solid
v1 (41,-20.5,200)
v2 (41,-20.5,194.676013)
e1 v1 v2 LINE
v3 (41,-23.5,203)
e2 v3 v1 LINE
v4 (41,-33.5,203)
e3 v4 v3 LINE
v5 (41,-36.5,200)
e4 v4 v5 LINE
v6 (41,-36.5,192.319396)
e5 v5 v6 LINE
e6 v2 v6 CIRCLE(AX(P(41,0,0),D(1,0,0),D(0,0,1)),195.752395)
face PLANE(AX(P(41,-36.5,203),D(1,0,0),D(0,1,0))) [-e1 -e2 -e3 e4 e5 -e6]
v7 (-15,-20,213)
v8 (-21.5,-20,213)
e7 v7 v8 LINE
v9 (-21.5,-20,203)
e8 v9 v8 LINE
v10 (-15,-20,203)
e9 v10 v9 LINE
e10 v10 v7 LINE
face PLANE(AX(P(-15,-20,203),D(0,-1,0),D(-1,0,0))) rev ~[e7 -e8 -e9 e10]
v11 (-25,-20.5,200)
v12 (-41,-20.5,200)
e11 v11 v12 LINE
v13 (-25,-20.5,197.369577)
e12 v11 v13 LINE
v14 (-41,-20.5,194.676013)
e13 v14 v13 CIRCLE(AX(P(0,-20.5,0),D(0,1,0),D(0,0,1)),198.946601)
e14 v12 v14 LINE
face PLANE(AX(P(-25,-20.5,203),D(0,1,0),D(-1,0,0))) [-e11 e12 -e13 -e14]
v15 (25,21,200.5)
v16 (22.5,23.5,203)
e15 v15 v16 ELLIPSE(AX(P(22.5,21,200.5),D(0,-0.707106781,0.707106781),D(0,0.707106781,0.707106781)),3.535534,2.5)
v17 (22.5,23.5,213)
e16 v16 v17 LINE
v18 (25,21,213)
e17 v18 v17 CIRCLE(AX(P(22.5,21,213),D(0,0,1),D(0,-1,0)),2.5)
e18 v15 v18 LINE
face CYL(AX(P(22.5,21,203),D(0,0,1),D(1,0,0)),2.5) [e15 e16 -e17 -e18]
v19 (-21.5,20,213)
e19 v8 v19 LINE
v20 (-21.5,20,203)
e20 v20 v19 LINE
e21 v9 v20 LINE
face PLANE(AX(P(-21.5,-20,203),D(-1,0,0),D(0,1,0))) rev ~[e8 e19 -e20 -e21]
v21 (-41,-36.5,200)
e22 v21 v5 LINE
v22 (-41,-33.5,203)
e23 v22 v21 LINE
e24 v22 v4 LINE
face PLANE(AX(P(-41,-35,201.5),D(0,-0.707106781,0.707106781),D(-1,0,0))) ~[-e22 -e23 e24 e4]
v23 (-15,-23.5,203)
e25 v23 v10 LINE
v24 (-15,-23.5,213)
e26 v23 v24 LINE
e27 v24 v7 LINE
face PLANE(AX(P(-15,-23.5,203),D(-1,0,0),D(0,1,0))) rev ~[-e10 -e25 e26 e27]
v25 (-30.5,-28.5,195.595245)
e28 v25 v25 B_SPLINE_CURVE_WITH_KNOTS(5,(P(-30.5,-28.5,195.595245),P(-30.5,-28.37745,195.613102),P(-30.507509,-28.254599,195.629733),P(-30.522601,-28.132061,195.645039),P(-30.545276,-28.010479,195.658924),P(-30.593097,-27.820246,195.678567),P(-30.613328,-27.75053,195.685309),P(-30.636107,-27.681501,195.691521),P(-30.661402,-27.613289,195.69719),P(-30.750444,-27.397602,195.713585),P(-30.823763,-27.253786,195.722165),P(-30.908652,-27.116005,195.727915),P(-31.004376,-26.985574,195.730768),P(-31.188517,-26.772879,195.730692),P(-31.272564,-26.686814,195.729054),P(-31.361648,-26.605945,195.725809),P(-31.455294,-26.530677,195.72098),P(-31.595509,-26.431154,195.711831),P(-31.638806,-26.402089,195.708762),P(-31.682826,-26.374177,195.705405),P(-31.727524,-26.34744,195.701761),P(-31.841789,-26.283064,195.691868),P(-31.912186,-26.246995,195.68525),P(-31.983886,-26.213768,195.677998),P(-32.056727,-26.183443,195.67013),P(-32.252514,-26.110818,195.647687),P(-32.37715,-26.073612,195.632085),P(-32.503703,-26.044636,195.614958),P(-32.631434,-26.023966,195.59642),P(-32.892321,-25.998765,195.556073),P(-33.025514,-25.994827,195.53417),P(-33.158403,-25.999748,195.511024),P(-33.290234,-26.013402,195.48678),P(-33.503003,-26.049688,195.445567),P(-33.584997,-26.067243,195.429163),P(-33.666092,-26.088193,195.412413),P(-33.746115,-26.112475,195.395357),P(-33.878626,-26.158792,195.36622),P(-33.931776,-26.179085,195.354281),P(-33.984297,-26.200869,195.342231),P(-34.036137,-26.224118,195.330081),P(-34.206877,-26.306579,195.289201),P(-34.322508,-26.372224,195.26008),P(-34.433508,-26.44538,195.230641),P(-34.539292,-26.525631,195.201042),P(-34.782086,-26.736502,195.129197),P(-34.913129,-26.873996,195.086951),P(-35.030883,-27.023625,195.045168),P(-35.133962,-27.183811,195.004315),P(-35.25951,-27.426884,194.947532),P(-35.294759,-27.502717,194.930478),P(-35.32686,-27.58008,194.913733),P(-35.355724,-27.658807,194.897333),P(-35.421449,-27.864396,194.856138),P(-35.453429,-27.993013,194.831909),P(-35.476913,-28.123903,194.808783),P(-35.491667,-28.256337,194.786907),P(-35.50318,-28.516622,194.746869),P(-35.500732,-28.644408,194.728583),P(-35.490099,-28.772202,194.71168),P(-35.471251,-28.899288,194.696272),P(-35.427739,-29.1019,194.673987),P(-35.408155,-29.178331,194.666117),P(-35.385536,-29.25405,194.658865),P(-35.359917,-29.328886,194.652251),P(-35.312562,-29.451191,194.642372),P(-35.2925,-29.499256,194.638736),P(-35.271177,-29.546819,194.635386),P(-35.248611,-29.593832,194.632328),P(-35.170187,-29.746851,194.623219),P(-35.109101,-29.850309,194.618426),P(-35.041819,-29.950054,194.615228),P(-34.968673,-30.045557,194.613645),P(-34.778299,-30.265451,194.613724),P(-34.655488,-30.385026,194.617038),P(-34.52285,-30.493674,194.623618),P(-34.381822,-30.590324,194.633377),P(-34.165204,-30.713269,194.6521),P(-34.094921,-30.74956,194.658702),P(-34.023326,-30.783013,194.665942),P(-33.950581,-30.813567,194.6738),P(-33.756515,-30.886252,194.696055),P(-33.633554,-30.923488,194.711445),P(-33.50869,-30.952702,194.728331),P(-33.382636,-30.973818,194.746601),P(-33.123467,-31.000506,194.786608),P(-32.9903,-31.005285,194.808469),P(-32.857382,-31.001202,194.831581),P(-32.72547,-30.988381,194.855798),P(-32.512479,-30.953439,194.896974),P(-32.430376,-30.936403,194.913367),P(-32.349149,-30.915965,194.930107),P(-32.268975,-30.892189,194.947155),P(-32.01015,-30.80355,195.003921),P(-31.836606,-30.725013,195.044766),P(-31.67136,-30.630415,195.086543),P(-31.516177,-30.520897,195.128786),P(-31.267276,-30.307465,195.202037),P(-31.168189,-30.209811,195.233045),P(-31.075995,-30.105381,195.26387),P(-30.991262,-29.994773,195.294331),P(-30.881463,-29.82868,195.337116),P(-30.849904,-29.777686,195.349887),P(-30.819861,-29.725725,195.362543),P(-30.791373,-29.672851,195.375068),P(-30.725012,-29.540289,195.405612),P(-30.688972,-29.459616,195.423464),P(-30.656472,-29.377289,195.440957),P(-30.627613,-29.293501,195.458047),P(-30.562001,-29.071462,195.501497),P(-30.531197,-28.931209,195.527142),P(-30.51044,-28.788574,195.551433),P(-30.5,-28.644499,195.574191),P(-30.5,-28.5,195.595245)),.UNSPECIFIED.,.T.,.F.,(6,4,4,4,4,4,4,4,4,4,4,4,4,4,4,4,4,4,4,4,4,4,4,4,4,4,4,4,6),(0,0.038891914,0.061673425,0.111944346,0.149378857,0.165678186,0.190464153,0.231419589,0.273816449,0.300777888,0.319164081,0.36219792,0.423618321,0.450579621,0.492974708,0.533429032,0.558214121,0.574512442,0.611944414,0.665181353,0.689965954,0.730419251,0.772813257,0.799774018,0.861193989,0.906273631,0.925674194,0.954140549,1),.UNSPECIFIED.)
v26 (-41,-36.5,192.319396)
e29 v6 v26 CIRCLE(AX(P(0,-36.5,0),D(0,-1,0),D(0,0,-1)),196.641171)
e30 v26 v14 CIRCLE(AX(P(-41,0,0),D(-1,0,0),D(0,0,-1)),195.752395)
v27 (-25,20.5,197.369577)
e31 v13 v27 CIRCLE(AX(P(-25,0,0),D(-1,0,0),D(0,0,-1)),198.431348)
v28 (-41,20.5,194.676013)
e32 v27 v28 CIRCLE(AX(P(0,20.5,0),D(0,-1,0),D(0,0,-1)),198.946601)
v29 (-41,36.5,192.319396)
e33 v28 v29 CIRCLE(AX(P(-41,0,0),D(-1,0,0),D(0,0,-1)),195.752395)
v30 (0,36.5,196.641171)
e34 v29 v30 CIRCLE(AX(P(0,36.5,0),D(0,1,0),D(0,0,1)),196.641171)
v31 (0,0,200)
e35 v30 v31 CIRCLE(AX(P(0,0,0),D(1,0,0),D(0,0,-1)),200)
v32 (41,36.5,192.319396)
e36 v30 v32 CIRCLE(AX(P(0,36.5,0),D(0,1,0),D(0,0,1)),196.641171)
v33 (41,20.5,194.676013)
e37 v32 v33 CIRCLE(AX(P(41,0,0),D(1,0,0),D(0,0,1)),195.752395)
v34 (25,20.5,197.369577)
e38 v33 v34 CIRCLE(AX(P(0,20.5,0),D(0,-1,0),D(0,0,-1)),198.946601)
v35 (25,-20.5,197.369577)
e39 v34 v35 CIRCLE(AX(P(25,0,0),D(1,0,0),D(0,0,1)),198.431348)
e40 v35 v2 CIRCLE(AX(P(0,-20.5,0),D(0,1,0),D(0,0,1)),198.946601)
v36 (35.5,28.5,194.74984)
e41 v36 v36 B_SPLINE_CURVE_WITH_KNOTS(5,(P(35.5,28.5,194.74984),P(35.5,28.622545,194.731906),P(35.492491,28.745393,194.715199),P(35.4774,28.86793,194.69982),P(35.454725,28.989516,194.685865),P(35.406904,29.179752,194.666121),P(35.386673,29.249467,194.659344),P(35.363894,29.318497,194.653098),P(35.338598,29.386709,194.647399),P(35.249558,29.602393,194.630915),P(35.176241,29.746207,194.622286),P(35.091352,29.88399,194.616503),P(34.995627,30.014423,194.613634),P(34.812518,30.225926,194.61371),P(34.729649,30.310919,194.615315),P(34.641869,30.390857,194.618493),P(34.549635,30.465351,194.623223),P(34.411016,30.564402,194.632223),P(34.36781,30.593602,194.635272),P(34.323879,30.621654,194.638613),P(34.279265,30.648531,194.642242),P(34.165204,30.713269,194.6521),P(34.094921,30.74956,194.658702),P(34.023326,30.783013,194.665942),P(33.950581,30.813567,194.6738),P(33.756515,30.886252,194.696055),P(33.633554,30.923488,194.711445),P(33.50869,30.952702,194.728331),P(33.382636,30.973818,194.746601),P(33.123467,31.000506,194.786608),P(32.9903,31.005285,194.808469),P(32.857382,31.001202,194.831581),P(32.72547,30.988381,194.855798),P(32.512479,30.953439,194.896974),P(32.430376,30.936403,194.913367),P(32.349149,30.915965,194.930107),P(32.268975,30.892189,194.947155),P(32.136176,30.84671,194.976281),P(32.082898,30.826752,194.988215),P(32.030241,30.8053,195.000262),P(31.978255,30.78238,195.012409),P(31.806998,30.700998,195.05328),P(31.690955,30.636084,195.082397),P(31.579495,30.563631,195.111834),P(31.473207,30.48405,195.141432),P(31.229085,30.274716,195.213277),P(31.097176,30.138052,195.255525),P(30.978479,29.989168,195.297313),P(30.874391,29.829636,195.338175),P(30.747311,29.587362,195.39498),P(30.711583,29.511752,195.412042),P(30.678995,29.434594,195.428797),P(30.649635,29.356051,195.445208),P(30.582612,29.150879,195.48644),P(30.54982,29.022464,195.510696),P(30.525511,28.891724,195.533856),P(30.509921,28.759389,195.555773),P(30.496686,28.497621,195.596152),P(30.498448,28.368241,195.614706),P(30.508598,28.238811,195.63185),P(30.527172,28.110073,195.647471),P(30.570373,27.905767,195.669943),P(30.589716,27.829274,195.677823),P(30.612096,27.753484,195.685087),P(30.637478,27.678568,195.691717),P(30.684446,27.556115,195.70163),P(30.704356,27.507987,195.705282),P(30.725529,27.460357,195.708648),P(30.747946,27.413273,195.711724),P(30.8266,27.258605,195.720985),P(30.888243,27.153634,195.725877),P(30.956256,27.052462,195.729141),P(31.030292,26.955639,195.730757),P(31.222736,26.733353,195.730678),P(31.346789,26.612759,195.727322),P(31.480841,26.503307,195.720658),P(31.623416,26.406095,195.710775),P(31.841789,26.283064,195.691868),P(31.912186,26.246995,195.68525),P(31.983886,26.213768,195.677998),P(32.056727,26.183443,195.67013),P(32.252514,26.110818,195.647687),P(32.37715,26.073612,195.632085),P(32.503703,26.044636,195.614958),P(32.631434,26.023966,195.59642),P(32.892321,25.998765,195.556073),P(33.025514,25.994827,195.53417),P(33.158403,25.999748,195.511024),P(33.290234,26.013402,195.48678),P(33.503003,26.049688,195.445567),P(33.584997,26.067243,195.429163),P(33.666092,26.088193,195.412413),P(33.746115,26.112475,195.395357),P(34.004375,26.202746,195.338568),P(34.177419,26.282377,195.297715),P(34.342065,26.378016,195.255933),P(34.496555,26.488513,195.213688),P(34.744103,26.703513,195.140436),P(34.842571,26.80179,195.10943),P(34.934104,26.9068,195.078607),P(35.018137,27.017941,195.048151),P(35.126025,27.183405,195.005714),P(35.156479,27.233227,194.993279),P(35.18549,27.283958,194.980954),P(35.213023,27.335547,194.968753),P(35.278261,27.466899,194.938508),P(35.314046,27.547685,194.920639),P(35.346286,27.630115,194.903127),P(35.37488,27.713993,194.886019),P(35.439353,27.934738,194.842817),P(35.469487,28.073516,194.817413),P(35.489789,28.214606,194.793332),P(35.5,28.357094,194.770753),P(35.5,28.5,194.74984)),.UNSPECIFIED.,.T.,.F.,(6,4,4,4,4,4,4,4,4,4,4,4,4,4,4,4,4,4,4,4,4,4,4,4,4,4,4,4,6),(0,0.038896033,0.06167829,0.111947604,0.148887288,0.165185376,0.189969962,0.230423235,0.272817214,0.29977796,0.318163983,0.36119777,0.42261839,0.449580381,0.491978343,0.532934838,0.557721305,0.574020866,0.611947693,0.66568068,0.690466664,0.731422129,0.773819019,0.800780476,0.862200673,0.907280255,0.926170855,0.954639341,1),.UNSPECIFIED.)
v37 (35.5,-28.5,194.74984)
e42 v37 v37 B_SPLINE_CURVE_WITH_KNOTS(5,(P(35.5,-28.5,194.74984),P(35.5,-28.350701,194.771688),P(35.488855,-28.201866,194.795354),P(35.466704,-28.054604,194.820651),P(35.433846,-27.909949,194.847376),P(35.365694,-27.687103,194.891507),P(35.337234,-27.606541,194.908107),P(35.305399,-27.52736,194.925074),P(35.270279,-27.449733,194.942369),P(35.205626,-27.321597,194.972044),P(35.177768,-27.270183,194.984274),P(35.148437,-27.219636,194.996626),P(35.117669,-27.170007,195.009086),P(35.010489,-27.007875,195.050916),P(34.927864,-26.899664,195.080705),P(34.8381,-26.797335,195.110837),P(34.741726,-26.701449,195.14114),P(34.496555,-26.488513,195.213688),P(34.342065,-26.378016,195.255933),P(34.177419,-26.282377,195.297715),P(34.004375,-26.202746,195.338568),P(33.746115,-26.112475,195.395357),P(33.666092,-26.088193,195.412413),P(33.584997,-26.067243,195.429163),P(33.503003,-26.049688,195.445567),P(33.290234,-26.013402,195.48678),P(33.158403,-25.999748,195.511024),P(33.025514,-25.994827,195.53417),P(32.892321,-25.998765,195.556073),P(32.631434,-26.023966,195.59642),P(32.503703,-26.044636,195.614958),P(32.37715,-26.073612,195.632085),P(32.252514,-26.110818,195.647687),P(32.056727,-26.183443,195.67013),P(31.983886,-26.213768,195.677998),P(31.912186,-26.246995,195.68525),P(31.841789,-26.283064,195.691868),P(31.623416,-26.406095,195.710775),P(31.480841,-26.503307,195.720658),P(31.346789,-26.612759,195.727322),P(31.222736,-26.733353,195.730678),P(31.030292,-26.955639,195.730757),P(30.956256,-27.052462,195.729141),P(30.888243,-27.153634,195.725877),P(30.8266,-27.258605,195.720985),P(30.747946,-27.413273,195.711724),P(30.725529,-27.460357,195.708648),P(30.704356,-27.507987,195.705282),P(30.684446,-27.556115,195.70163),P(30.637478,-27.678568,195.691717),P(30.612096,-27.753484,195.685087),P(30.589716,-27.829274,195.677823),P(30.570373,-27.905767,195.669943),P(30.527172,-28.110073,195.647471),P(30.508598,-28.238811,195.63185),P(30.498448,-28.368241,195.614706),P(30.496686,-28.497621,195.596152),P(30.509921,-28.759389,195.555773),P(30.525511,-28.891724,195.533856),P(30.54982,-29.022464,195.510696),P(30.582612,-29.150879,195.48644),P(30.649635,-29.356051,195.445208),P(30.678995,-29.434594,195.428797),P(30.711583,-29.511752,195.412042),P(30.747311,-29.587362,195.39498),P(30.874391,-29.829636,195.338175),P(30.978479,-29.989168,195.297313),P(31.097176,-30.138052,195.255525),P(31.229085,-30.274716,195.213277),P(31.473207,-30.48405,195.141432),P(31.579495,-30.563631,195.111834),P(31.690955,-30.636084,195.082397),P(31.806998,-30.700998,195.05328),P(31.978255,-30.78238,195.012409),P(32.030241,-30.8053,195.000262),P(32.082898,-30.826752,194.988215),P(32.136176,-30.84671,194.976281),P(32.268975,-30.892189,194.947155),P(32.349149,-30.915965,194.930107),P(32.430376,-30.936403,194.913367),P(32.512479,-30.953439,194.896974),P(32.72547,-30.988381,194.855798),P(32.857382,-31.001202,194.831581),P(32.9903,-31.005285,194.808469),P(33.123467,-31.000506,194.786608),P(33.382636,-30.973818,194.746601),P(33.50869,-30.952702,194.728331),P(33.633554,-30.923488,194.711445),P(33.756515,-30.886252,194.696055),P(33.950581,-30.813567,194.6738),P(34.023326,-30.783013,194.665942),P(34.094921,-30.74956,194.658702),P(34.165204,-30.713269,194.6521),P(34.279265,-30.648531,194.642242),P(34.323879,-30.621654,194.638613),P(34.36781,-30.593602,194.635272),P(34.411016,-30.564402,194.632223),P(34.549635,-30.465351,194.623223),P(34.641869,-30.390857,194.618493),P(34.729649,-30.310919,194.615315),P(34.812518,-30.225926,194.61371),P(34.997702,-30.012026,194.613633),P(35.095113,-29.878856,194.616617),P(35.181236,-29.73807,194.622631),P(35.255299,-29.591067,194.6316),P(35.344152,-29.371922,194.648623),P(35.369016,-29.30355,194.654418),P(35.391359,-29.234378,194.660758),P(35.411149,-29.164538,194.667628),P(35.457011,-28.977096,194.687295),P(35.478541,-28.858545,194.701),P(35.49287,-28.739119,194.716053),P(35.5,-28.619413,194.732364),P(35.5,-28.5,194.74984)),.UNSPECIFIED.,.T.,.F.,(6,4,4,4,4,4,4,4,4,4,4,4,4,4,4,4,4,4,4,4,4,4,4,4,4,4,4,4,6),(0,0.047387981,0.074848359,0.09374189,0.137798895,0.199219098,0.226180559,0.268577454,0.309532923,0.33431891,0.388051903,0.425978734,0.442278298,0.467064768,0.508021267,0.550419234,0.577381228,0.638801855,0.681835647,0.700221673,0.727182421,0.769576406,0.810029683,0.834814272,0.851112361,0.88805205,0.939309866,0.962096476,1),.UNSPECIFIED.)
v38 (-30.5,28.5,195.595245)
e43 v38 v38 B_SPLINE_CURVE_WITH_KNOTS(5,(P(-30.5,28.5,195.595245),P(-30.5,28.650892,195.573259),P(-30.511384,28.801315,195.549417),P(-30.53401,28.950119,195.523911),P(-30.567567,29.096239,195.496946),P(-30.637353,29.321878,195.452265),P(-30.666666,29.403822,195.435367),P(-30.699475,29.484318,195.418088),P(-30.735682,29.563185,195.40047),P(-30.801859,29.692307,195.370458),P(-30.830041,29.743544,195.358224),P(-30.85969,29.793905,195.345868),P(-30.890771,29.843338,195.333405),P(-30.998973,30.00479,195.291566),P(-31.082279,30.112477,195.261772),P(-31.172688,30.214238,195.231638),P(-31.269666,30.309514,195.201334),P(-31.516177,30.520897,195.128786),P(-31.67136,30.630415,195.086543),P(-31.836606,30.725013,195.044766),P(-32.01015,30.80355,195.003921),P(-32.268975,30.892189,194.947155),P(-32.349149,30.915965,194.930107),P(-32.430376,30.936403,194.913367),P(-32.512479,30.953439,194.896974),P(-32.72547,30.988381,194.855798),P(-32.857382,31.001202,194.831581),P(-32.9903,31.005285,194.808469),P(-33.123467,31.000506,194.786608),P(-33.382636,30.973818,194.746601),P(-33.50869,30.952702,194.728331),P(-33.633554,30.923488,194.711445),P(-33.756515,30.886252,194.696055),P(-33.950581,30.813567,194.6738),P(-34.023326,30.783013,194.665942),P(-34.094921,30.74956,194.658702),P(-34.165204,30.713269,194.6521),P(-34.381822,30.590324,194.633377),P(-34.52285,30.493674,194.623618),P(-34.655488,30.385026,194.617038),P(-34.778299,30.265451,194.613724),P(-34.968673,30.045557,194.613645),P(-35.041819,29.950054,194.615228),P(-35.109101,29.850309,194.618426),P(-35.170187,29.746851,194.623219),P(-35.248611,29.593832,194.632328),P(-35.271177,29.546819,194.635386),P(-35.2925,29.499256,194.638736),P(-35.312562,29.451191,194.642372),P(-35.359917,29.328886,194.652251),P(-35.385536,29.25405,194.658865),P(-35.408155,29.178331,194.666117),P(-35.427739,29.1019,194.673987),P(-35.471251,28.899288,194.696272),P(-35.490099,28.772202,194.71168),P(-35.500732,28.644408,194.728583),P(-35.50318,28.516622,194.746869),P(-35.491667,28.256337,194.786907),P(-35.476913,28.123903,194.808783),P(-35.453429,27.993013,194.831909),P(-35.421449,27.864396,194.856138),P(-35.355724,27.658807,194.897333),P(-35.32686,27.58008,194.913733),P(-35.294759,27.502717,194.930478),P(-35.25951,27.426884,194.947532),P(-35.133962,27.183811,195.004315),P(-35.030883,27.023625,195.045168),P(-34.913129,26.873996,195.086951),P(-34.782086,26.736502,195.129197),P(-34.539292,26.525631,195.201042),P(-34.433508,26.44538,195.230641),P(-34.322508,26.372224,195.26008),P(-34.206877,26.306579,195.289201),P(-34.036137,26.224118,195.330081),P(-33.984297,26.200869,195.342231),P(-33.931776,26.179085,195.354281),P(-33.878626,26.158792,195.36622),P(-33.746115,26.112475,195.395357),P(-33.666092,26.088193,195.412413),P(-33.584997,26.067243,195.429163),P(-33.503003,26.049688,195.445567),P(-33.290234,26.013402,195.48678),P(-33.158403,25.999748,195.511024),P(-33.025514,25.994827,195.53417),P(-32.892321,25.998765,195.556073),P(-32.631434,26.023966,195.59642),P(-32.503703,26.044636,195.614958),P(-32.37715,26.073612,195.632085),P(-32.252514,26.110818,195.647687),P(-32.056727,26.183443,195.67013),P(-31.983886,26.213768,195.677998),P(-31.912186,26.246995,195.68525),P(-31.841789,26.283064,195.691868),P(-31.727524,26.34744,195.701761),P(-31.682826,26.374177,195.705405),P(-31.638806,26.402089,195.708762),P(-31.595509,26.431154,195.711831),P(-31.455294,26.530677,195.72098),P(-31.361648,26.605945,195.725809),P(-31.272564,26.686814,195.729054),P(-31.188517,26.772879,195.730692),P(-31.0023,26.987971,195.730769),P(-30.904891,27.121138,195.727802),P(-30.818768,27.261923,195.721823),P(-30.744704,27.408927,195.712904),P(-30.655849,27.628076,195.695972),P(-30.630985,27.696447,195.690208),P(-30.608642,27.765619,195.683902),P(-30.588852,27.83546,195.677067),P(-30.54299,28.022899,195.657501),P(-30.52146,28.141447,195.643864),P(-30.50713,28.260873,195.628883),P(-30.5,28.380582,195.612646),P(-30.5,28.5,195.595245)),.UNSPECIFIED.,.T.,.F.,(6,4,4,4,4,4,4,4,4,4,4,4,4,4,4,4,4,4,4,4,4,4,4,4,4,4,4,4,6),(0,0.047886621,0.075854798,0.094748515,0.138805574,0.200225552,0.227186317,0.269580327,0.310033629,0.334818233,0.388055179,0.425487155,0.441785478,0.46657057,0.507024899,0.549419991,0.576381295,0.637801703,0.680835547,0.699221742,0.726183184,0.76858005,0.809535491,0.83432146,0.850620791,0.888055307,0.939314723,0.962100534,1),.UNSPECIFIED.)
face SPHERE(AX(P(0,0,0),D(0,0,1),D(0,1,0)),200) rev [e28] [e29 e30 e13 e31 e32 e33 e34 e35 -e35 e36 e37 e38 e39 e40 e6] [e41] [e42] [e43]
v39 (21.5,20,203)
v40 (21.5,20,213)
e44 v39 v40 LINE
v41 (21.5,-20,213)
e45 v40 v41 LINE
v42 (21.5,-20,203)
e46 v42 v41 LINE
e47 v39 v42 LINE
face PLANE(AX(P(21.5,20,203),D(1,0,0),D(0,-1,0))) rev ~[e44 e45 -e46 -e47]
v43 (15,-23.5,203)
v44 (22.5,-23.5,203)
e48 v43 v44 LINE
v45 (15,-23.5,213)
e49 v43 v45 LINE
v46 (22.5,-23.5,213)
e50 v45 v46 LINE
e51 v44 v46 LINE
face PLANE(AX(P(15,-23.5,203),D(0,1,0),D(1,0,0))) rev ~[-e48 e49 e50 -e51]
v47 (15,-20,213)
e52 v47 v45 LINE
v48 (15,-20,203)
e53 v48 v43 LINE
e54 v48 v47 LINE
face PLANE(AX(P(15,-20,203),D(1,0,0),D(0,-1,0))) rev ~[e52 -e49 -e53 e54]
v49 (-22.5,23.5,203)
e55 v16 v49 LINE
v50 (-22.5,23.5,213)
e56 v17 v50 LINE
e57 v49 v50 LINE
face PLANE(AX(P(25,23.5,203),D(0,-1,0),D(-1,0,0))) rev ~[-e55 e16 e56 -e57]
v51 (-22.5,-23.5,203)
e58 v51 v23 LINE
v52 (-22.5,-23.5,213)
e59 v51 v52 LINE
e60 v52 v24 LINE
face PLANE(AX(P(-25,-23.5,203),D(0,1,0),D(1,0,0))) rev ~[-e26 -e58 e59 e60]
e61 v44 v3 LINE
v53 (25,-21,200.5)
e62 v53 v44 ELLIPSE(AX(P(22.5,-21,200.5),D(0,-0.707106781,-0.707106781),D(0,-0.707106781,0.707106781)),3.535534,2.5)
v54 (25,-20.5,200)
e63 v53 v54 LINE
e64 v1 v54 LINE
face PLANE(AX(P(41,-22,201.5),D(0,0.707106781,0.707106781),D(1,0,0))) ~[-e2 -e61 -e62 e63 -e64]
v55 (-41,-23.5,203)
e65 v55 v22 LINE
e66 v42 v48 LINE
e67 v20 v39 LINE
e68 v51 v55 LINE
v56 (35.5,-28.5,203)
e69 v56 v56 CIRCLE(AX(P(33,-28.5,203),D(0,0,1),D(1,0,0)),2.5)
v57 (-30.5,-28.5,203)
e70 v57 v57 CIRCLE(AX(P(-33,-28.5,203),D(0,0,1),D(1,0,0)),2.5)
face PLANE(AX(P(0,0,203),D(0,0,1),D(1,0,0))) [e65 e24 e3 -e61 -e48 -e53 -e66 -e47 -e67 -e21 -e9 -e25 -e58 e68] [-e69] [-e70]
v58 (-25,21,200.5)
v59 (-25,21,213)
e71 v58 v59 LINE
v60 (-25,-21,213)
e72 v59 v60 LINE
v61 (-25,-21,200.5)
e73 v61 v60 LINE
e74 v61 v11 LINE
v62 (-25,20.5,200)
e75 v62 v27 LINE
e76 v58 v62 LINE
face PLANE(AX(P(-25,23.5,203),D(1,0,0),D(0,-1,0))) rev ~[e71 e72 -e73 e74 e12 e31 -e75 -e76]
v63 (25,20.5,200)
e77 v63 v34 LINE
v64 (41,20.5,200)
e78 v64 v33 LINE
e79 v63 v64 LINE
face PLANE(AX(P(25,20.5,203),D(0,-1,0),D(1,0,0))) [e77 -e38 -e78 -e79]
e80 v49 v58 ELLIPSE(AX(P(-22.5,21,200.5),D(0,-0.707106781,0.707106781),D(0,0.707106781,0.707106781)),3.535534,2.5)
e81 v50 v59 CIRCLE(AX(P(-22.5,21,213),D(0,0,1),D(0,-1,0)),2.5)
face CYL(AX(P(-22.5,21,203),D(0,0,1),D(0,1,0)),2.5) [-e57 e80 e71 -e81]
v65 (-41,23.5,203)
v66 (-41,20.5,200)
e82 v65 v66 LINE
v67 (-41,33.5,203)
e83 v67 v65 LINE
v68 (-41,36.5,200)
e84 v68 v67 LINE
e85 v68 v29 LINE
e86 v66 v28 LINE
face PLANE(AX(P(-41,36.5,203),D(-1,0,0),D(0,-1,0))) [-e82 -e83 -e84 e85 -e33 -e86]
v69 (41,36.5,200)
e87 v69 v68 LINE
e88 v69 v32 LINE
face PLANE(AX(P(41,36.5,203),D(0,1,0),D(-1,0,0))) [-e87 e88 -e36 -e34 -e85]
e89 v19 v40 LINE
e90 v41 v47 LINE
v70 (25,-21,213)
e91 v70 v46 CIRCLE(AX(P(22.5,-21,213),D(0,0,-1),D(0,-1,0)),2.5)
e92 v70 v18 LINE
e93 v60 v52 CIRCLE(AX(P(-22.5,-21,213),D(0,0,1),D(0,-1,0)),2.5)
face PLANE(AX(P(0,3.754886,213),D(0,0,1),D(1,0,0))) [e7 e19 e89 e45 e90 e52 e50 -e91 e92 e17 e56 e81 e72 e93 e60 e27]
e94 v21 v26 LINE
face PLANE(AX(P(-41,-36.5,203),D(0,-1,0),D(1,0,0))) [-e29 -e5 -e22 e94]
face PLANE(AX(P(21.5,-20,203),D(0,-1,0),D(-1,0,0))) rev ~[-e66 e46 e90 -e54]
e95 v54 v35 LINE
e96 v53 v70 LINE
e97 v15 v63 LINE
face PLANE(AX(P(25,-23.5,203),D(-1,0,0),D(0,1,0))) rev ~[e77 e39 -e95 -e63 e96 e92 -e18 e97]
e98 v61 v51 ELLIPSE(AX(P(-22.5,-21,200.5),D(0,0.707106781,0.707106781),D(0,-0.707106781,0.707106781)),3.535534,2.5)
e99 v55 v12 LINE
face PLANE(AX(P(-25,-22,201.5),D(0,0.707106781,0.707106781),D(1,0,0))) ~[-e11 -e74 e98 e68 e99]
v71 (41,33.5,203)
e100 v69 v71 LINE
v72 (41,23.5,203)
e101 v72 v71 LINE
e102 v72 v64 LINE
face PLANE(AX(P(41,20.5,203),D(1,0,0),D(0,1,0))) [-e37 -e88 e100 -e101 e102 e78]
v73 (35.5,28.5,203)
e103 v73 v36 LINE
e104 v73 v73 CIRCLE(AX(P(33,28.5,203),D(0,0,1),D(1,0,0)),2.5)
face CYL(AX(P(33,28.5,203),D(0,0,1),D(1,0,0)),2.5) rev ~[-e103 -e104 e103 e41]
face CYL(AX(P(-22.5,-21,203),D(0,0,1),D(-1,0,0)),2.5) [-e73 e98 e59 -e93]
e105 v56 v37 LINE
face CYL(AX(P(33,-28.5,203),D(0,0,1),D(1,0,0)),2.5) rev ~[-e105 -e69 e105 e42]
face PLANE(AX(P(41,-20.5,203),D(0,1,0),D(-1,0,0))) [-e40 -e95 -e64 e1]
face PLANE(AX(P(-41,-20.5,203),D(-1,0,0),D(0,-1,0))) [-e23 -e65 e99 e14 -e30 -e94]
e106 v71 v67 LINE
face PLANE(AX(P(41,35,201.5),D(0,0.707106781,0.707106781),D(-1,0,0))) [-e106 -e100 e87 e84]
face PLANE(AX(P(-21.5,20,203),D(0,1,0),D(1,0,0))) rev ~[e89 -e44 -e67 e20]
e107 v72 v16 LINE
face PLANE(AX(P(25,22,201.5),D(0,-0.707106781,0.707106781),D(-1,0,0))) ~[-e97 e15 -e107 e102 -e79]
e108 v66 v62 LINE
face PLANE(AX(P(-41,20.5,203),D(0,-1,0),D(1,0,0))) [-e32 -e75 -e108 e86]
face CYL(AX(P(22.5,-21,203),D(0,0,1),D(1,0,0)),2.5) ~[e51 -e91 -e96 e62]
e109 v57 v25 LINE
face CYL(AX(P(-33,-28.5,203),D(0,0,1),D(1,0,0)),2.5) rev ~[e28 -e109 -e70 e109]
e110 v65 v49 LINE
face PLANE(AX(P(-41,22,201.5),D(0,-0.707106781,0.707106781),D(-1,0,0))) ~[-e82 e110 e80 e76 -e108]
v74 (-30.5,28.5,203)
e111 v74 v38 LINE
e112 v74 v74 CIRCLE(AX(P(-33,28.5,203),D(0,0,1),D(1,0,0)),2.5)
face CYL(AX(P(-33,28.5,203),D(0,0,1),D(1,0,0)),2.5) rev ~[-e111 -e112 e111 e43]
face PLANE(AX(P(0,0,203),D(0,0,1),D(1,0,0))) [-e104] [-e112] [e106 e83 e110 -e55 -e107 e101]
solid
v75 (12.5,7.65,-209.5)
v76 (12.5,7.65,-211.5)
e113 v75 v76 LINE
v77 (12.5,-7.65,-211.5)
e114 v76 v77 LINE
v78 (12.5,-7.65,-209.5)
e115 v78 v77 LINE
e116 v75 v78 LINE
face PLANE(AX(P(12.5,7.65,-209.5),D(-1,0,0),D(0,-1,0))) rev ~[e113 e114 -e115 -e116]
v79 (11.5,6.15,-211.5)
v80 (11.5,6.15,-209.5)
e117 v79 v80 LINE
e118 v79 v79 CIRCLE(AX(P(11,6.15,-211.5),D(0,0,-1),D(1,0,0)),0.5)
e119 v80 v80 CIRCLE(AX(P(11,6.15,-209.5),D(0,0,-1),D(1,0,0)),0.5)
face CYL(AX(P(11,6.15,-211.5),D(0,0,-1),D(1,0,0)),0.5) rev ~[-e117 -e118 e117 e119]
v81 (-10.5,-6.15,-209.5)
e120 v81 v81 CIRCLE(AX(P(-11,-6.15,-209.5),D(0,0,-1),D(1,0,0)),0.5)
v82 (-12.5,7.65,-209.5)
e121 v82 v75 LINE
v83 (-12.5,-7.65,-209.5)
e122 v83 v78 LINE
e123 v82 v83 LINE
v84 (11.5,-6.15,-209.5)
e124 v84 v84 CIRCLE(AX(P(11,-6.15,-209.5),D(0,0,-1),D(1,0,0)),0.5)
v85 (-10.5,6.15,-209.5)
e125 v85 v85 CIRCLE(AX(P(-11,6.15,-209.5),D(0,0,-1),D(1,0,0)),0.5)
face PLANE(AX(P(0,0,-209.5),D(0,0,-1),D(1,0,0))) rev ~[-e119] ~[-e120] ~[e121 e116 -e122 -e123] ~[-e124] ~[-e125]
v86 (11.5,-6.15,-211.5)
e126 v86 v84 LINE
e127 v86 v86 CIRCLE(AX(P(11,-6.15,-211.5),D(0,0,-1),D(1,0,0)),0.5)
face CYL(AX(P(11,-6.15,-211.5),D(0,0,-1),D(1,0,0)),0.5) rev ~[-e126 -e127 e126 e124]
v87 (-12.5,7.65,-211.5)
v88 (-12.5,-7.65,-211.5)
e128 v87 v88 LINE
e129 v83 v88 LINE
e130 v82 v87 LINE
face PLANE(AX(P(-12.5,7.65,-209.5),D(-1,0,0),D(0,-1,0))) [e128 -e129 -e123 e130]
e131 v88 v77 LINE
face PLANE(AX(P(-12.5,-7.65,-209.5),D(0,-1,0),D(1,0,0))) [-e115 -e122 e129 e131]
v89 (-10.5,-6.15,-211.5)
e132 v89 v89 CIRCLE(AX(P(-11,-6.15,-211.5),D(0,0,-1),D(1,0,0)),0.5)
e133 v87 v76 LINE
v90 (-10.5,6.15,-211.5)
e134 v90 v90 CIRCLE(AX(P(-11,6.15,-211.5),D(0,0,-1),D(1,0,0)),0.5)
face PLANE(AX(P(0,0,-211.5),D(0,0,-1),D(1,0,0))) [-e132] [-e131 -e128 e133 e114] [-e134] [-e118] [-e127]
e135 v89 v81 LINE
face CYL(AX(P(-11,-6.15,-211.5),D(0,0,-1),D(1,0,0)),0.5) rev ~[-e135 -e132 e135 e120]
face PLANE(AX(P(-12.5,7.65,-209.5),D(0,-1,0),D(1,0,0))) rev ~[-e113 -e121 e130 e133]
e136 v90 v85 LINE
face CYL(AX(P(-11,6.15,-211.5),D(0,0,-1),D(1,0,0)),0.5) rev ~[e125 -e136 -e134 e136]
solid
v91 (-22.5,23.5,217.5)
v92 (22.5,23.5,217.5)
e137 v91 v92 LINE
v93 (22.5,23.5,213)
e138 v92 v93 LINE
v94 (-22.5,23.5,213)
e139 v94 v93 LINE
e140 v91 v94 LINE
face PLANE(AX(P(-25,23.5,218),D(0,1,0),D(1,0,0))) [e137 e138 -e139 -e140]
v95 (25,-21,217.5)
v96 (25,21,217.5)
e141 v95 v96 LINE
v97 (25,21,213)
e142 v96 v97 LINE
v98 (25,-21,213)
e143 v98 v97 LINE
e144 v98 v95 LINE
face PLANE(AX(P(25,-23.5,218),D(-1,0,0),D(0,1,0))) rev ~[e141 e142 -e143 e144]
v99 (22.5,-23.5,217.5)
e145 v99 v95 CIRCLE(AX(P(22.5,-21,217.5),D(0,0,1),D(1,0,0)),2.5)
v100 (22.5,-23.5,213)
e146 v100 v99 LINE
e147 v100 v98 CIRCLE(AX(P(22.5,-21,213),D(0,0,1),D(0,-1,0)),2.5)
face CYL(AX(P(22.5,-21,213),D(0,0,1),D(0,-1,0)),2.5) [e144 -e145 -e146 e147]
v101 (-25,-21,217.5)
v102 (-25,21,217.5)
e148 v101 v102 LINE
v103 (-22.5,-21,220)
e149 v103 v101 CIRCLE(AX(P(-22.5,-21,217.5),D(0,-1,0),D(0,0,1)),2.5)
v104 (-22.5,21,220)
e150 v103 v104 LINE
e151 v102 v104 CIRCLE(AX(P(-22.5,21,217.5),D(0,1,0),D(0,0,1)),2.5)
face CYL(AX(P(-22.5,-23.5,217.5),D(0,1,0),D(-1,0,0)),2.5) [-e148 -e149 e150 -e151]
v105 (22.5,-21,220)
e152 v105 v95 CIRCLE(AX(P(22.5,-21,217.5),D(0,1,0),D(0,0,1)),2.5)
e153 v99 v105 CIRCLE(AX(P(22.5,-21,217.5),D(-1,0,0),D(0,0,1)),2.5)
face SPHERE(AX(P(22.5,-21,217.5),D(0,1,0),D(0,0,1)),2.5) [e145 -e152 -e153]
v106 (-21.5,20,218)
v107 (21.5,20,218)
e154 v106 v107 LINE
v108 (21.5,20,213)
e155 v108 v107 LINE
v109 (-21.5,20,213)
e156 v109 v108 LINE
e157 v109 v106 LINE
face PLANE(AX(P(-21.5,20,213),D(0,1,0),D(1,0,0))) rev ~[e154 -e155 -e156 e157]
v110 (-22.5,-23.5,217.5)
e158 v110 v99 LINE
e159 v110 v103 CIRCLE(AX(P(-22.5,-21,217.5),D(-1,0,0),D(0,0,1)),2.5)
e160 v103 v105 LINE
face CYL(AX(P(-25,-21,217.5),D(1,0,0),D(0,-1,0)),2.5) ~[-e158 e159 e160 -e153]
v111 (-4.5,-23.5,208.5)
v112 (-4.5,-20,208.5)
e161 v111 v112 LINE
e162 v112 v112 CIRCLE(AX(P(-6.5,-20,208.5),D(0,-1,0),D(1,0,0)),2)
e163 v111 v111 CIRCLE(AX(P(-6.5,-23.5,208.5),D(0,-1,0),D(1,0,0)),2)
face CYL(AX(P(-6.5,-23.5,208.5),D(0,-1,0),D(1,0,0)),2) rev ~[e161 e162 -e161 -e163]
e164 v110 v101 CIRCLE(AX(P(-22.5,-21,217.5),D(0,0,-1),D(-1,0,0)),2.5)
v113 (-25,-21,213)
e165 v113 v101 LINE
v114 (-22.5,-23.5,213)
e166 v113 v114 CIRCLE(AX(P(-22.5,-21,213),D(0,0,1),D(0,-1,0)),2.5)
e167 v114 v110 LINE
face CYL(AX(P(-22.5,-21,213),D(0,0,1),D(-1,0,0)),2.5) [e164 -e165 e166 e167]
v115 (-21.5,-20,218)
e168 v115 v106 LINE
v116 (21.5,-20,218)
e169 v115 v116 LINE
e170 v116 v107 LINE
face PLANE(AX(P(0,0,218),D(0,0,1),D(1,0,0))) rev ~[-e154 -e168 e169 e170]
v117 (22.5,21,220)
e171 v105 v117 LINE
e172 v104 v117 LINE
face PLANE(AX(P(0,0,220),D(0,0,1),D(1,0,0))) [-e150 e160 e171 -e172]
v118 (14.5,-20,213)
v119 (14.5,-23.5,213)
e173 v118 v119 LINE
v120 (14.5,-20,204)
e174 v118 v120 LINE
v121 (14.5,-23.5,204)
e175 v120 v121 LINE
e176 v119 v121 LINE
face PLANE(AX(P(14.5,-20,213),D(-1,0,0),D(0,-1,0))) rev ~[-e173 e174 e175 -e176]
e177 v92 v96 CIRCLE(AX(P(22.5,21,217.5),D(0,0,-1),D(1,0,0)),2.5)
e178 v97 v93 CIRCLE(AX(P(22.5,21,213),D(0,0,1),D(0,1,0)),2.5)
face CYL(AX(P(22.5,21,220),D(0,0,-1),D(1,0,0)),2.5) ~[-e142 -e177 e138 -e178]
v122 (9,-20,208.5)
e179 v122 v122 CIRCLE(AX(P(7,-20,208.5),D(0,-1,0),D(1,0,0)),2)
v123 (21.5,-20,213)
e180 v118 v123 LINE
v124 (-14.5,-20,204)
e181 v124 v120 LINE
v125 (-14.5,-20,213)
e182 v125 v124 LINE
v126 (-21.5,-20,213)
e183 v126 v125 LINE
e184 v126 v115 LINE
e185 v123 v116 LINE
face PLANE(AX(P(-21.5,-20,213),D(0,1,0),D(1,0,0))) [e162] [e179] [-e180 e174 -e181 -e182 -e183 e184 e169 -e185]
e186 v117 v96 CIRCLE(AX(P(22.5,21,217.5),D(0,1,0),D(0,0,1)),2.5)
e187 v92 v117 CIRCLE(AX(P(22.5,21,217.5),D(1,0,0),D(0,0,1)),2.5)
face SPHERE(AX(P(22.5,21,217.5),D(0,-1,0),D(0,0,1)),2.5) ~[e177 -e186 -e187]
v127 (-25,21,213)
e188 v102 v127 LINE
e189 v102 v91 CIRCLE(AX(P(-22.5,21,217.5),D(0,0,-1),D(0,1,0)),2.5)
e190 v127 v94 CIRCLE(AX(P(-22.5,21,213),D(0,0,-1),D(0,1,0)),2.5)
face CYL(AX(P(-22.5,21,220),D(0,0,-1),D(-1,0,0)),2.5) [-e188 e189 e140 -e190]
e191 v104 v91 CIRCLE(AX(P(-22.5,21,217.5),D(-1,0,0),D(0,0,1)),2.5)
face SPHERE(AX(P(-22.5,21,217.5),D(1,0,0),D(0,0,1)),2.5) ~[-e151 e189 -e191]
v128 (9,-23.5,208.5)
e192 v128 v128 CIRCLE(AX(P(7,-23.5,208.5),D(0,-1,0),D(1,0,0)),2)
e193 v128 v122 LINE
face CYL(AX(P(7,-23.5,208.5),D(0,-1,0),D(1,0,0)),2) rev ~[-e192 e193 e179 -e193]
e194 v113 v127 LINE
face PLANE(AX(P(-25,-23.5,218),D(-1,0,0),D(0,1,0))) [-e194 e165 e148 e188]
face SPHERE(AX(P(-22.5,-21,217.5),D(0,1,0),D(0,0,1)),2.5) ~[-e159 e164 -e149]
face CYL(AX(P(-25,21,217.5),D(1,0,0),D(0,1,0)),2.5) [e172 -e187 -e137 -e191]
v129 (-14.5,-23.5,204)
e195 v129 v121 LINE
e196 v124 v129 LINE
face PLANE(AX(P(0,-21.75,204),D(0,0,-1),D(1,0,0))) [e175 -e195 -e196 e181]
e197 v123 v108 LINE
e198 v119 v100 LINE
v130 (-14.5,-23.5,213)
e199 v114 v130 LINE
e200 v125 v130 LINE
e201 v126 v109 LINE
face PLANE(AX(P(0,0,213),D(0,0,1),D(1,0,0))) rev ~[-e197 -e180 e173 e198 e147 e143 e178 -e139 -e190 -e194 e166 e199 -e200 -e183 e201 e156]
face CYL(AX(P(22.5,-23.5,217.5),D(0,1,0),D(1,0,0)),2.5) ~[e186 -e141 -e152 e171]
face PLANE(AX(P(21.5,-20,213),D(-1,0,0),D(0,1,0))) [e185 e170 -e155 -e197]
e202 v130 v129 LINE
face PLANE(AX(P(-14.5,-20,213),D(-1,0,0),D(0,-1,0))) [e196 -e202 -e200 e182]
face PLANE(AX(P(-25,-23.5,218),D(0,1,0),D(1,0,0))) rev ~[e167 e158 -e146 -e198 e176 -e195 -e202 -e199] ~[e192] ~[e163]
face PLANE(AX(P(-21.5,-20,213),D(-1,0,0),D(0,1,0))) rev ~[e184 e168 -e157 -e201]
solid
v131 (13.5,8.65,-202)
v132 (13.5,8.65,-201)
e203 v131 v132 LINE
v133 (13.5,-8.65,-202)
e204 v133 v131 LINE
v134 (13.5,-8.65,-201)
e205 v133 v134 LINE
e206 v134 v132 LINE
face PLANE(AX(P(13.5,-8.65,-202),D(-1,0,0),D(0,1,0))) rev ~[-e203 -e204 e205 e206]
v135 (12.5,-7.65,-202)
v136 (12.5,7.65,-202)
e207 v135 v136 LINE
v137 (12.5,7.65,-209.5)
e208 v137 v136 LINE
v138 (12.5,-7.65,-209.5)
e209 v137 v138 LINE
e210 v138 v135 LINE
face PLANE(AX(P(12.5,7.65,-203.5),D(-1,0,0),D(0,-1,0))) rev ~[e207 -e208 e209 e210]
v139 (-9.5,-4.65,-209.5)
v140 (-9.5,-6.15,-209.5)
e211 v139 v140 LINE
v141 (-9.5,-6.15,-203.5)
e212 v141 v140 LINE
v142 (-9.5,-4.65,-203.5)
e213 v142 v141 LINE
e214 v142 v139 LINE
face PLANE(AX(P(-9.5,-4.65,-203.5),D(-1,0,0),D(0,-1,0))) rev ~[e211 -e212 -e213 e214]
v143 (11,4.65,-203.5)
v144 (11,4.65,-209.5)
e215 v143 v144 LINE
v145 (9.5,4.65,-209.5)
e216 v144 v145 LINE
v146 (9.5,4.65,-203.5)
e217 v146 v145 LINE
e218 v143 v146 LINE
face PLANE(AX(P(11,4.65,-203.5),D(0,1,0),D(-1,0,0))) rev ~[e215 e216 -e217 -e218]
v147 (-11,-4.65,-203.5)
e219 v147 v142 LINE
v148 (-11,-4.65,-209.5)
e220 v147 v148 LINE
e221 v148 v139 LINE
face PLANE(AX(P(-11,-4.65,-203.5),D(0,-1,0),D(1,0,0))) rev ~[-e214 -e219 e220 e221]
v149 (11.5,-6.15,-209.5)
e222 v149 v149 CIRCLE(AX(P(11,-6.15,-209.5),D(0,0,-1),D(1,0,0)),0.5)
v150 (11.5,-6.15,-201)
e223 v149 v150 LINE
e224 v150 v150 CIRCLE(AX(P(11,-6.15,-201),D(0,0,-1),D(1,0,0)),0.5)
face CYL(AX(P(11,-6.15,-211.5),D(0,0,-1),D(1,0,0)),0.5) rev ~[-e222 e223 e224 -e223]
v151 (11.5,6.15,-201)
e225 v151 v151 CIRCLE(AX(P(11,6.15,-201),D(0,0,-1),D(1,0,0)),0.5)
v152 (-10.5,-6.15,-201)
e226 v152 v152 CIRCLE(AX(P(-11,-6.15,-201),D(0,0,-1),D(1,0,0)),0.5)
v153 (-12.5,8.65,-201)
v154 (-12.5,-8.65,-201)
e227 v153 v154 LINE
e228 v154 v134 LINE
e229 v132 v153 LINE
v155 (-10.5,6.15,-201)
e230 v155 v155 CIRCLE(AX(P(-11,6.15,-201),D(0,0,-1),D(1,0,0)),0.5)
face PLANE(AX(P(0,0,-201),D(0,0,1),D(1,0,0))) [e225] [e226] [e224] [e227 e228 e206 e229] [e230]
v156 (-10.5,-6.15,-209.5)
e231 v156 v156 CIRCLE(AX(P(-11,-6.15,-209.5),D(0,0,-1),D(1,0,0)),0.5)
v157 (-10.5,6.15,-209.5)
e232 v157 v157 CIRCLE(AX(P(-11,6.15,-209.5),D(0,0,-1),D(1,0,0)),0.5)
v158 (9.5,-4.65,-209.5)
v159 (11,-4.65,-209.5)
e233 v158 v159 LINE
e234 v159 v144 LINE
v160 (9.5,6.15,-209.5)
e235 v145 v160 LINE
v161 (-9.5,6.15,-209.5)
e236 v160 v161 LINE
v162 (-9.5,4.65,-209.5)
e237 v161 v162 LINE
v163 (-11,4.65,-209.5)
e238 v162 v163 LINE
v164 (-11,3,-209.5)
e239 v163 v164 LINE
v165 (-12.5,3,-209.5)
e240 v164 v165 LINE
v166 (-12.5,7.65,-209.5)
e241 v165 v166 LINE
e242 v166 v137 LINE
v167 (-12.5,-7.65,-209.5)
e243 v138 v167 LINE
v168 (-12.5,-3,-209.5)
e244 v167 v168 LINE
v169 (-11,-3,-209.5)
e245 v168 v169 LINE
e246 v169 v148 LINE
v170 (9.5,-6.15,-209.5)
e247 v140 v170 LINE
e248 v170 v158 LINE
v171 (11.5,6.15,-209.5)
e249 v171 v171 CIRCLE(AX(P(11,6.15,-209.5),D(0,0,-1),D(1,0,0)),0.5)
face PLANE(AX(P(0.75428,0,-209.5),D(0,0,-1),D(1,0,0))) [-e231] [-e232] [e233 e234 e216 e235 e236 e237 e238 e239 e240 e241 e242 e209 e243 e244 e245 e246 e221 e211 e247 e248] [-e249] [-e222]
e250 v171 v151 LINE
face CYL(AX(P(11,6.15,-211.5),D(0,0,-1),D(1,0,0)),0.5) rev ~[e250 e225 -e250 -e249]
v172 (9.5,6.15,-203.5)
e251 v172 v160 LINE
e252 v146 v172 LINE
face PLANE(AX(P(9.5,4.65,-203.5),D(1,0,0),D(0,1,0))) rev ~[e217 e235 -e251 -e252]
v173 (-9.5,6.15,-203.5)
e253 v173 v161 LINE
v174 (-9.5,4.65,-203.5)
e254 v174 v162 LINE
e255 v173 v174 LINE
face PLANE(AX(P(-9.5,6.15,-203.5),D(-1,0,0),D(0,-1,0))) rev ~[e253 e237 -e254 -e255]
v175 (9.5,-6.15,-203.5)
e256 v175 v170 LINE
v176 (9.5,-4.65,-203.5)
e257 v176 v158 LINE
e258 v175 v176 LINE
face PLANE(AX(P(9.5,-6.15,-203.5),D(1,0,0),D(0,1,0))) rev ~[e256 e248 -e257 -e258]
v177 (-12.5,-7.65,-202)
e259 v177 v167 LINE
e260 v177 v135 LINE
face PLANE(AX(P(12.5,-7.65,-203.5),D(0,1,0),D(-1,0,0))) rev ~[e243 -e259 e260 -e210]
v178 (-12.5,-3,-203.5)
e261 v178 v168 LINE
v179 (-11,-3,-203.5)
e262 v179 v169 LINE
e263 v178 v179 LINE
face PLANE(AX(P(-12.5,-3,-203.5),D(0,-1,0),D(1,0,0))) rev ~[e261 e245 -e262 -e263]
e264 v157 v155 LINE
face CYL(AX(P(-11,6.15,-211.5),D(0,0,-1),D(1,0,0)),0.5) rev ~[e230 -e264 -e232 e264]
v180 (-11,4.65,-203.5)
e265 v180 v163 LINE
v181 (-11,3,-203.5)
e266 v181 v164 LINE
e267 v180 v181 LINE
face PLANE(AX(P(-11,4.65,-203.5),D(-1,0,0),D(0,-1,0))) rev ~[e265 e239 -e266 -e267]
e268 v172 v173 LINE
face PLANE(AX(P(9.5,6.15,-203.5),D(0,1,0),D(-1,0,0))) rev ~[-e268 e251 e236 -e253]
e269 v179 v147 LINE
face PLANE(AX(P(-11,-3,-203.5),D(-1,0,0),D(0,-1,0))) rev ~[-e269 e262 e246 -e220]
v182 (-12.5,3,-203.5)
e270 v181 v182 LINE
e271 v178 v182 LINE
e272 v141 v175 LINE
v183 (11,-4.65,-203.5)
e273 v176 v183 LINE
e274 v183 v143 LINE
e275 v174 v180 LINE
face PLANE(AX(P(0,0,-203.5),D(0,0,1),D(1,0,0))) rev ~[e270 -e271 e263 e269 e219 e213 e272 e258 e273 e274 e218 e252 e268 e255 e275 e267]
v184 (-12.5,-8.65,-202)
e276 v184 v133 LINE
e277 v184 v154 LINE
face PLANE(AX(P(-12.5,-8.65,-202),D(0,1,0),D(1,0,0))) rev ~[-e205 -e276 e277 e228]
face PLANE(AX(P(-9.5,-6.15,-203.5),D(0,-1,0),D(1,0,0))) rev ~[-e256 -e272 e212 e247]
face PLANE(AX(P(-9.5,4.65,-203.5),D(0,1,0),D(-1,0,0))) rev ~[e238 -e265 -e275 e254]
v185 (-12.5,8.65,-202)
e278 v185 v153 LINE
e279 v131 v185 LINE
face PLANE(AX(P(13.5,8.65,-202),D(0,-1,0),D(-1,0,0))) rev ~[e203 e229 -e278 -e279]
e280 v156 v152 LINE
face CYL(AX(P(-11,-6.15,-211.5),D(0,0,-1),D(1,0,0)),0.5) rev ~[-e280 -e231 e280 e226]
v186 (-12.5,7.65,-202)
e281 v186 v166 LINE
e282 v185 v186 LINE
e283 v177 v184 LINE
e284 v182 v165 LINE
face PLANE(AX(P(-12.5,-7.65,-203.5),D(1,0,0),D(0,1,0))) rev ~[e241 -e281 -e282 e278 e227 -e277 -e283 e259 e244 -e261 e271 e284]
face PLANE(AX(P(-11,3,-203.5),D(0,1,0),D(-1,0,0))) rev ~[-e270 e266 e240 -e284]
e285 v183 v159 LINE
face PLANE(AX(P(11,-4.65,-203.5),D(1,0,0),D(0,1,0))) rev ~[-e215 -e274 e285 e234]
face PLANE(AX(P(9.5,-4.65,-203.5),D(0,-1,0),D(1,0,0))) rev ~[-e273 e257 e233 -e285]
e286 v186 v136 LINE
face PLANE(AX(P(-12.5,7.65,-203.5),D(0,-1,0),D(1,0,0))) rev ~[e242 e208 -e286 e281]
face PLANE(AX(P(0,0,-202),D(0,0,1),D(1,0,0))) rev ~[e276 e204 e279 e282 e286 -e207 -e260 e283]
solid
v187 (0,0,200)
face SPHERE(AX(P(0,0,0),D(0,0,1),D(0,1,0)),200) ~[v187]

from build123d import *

# Parameters (mm, degrees)
F6_R      = 2.5
F8_SIZE   = 3
F10_DEPTH = 10
F11_W     = 50
F11_H     = 47
F11_W_2   = 43
F11_H_2   = 40
F12_DEPTH = 5
F13_W     = 50
F13_H     = 47
F14_DEPTH = 2
F15_R     = 2.5
F15_2_R   = 2.5
F16_W     = 29
F16_H     = 3.5
F17_DEPTH = 9
F18_R     = 2
F19_DEPTH = 3.5
F21_W     = 25
F21_H     = 15.3
F22_DEPTH = 1
F23_DEPTH = 1.5
F25_DEPTH = 6
F26_W     = 25
F26_H     = 15.3
F27_DEPTH = 2
F28_R     = 0.5
F29_DEPTH = 10.5


with BuildPart() as f4:
    # F3 (on Right) → F4 (revolve)
    with BuildSketch(Plane.YZ):
        with BuildLine():
            Line((0, 200), (0, -200))
            ThreePointArc((0, -200), (200, 0), (0, 200))
        make_face()
    revolve(axis=Axis((0, 0, -16.459852457), (0, 0, -1)))


with BuildPart() as f7:
    # F6 (on offset) → F7 (new body, up to the next surface of F4)
    with BuildSketch(Plane.XY.offset(203)):
        Polygon((41, 36.5), (25, 36.5), (-25, 36.5), (-41, 36.5), (-41, 20.5), (-25, 20.5), (-25, -20.5), (-41, -20.5), (-41, -36.5), (-25, -36.5), (25, -36.5), (41, -36.5), (41, -20.5), (25, -20.5), (25, 20.5), (41, 20.5), align=None)
        with Locations((-33, -28.5)):
            Circle(F6_R, mode=Mode.SUBTRACT)
        with Locations((33, -28.5)):
            Circle(F6_R, mode=Mode.SUBTRACT)
        with Locations((-33, 28.5)):
            Circle(F6_R, mode=Mode.SUBTRACT)
        with Locations((33, 28.5)):
            Circle(F6_R, mode=Mode.SUBTRACT)
    extrude(until=Until.NEXT, target=f4.part, dir=(0, 0, -1))

    # F8
    f8_edges = [f7.edges().sort_by_distance(p)[0] for p in [
        (0, 36.5, 203),
        (-33, 36.5, 203),
        (33, 36.5, 203),
        (0, -36.5, 203),
        (-33, -36.5, 203),
        (33, -36.5, 203),
        (-33, 20.5, 203),
        (33, 20.5, 203),
        (33, -20.5, 203),
        (-33, -20.5, 203),
    ]]
    chamfer(f8_edges, length=F8_SIZE)

    # F9 (on face) → F10 (join)
    with BuildSketch(Plane.XY.offset(203)):
        Polygon((25, -23.5), (25, 23.5), (-25, 23.5), (-25, -23.5), (-15, -23.5), (-15, -20), (-21.5, -20), (-21.5, 20), (21.5, 20), (21.5, -20), (15, -20), (15, -23.5), align=None)
    extrude(amount=F10_DEPTH)

    # F15#2
    f15_2_edges = [f7.edges().sort_by_distance(p)[0] for p in [
        (-25, -23.5, 208),
        (-25, 23.5, 208),
        (25, -23.5, 208),
        (25, 23.5, 208),
    ]]
    fillet(f15_2_edges, radius=F15_2_R)


with BuildPart() as f12:
    # F11 (on face) → F12 (new body)
    with BuildSketch(Plane.XY.offset(213)):
        Rectangle(F11_W, F11_H)
        Rectangle(F11_W_2, F11_H_2, mode=Mode.SUBTRACT)
    extrude(amount=F12_DEPTH)

    # F13 (on face) → F14 (join)
    with BuildSketch(Plane.XY.offset(218)):
        Rectangle(F13_W, F13_H)
    extrude(amount=F14_DEPTH)

    # F15
    f15_edges = [f12.edges().sort_by_distance(p)[0] for p in [
        (25, 0, 220),
        (0, 23.5, 220),
        (-25, 0, 220),
        (0, -23.5, 220),
        (-25, -23.5, 216.5),
        (-25, 23.5, 216.5),
        (25, -23.5, 216.5),
        (25, 23.5, 216.5),
    ]]
    fillet(f15_edges, radius=F15_R)

    # F16 (on face) → F17 (join)
    with BuildSketch(Plane(origin=(0, 0, 213), x_dir=(1, 0, 0), z_dir=(0, 0, -1))):
        with Locations((0, 21.75)):
            Rectangle(F16_W, F16_H)
    extrude(amount=F17_DEPTH)

    # F18 (on face) → F19 (cut, through all)
    with BuildSketch(Plane.XZ.offset(23.5)):
        with Locations((-6.5, 208.5)):
            Circle(F18_R)
        with Locations((7, 208.5)):
            Circle(F18_R)
    extrude(amount=-F19_DEPTH, mode=Mode.SUBTRACT)


with BuildPart() as f22:
    # F21 (on offset) → F22 (new body)
    with BuildSketch(Plane.XY.offset(-202)):
        Rectangle(F21_W, F21_H)
        Polygon((-12.5, 7.65), (12.5, 7.65), (12.5, -7.65), (-12.5, -7.65), (-12.5, -8.65), (13.5, -8.65), (13.5, 8.65), (-12.5, 8.65), align=None)
    extrude(amount=F22_DEPTH)

    # F21 (on offset) → F23 (join)
    with BuildSketch(Plane.XY.offset(-202)):
        Rectangle(F21_W, F21_H)
    extrude(amount=-F23_DEPTH)

    # F24 (on face) → F25 (join)
    with BuildSketch(Plane(origin=(0, 0, -203.5), x_dir=(1, 0, 0), z_dir=(0, 0, -1))):
        Polygon((12.5, 4.65), (12.5, 7.65), (9.5, 7.65), (-9.5, 7.65), (-12.5, 7.65), (-12.5, 4.65), (-12.5, 3), (-11, 3), (-11, 4.65), (-9.5, 4.65), (-9.5, 6.15), (9.5, 6.15), (9.5, 4.65), (11, 4.65), (11, -4.65), (9.5, -4.65), (9.5, -6.15), (-9.5, -6.15), (-9.5, -4.65), (-11, -4.65), (-11, -3), (-12.5, -3), (-12.5, -4.65), (-12.5, -7.65), (-9.5, -7.65), (9.5, -7.65), (12.5, -7.65), (12.5, -4.65), align=None)
    extrude(amount=F25_DEPTH)


with BuildPart() as f27:
    # F26 (on face) → F27 (new body)
    with BuildSketch(Plane(origin=(0, 0, -209.5), x_dir=(1, 0, 0), z_dir=(0, 0, -1))):
        Rectangle(F26_W, F26_H)
    extrude(amount=F27_DEPTH)


with BuildPart() as f29_tool:
    # F28 (on face) → F29 (new body, through all)
    with BuildSketch(Plane(origin=(0, 0, -211.5), x_dir=(1, 0, 0), z_dir=(0, 0, -1))):
        with Locations((-11, 6.15)):
            Circle(F28_R)
        with Locations((-11, -6.15)):
            Circle(F28_R)
        with Locations((11, 6.15)):
            Circle(F28_R)
        with Locations((11, -6.15)):
            Circle(F28_R)
    extrude(amount=-F29_DEPTH)


with BuildPart() as f22_1:
    add(f22.part)

    # F29: cut by f29_tool
    add(f29_tool.part, mode=Mode.SUBTRACT)


with BuildPart() as f27_1:
    add(f27.part)

    # F29: cut by f29_tool
    add(f29_tool.part, mode=Mode.SUBTRACT)


solid = Compound([f4.part, f7.part, f12.part, f22_1.part, f27_1.part])
